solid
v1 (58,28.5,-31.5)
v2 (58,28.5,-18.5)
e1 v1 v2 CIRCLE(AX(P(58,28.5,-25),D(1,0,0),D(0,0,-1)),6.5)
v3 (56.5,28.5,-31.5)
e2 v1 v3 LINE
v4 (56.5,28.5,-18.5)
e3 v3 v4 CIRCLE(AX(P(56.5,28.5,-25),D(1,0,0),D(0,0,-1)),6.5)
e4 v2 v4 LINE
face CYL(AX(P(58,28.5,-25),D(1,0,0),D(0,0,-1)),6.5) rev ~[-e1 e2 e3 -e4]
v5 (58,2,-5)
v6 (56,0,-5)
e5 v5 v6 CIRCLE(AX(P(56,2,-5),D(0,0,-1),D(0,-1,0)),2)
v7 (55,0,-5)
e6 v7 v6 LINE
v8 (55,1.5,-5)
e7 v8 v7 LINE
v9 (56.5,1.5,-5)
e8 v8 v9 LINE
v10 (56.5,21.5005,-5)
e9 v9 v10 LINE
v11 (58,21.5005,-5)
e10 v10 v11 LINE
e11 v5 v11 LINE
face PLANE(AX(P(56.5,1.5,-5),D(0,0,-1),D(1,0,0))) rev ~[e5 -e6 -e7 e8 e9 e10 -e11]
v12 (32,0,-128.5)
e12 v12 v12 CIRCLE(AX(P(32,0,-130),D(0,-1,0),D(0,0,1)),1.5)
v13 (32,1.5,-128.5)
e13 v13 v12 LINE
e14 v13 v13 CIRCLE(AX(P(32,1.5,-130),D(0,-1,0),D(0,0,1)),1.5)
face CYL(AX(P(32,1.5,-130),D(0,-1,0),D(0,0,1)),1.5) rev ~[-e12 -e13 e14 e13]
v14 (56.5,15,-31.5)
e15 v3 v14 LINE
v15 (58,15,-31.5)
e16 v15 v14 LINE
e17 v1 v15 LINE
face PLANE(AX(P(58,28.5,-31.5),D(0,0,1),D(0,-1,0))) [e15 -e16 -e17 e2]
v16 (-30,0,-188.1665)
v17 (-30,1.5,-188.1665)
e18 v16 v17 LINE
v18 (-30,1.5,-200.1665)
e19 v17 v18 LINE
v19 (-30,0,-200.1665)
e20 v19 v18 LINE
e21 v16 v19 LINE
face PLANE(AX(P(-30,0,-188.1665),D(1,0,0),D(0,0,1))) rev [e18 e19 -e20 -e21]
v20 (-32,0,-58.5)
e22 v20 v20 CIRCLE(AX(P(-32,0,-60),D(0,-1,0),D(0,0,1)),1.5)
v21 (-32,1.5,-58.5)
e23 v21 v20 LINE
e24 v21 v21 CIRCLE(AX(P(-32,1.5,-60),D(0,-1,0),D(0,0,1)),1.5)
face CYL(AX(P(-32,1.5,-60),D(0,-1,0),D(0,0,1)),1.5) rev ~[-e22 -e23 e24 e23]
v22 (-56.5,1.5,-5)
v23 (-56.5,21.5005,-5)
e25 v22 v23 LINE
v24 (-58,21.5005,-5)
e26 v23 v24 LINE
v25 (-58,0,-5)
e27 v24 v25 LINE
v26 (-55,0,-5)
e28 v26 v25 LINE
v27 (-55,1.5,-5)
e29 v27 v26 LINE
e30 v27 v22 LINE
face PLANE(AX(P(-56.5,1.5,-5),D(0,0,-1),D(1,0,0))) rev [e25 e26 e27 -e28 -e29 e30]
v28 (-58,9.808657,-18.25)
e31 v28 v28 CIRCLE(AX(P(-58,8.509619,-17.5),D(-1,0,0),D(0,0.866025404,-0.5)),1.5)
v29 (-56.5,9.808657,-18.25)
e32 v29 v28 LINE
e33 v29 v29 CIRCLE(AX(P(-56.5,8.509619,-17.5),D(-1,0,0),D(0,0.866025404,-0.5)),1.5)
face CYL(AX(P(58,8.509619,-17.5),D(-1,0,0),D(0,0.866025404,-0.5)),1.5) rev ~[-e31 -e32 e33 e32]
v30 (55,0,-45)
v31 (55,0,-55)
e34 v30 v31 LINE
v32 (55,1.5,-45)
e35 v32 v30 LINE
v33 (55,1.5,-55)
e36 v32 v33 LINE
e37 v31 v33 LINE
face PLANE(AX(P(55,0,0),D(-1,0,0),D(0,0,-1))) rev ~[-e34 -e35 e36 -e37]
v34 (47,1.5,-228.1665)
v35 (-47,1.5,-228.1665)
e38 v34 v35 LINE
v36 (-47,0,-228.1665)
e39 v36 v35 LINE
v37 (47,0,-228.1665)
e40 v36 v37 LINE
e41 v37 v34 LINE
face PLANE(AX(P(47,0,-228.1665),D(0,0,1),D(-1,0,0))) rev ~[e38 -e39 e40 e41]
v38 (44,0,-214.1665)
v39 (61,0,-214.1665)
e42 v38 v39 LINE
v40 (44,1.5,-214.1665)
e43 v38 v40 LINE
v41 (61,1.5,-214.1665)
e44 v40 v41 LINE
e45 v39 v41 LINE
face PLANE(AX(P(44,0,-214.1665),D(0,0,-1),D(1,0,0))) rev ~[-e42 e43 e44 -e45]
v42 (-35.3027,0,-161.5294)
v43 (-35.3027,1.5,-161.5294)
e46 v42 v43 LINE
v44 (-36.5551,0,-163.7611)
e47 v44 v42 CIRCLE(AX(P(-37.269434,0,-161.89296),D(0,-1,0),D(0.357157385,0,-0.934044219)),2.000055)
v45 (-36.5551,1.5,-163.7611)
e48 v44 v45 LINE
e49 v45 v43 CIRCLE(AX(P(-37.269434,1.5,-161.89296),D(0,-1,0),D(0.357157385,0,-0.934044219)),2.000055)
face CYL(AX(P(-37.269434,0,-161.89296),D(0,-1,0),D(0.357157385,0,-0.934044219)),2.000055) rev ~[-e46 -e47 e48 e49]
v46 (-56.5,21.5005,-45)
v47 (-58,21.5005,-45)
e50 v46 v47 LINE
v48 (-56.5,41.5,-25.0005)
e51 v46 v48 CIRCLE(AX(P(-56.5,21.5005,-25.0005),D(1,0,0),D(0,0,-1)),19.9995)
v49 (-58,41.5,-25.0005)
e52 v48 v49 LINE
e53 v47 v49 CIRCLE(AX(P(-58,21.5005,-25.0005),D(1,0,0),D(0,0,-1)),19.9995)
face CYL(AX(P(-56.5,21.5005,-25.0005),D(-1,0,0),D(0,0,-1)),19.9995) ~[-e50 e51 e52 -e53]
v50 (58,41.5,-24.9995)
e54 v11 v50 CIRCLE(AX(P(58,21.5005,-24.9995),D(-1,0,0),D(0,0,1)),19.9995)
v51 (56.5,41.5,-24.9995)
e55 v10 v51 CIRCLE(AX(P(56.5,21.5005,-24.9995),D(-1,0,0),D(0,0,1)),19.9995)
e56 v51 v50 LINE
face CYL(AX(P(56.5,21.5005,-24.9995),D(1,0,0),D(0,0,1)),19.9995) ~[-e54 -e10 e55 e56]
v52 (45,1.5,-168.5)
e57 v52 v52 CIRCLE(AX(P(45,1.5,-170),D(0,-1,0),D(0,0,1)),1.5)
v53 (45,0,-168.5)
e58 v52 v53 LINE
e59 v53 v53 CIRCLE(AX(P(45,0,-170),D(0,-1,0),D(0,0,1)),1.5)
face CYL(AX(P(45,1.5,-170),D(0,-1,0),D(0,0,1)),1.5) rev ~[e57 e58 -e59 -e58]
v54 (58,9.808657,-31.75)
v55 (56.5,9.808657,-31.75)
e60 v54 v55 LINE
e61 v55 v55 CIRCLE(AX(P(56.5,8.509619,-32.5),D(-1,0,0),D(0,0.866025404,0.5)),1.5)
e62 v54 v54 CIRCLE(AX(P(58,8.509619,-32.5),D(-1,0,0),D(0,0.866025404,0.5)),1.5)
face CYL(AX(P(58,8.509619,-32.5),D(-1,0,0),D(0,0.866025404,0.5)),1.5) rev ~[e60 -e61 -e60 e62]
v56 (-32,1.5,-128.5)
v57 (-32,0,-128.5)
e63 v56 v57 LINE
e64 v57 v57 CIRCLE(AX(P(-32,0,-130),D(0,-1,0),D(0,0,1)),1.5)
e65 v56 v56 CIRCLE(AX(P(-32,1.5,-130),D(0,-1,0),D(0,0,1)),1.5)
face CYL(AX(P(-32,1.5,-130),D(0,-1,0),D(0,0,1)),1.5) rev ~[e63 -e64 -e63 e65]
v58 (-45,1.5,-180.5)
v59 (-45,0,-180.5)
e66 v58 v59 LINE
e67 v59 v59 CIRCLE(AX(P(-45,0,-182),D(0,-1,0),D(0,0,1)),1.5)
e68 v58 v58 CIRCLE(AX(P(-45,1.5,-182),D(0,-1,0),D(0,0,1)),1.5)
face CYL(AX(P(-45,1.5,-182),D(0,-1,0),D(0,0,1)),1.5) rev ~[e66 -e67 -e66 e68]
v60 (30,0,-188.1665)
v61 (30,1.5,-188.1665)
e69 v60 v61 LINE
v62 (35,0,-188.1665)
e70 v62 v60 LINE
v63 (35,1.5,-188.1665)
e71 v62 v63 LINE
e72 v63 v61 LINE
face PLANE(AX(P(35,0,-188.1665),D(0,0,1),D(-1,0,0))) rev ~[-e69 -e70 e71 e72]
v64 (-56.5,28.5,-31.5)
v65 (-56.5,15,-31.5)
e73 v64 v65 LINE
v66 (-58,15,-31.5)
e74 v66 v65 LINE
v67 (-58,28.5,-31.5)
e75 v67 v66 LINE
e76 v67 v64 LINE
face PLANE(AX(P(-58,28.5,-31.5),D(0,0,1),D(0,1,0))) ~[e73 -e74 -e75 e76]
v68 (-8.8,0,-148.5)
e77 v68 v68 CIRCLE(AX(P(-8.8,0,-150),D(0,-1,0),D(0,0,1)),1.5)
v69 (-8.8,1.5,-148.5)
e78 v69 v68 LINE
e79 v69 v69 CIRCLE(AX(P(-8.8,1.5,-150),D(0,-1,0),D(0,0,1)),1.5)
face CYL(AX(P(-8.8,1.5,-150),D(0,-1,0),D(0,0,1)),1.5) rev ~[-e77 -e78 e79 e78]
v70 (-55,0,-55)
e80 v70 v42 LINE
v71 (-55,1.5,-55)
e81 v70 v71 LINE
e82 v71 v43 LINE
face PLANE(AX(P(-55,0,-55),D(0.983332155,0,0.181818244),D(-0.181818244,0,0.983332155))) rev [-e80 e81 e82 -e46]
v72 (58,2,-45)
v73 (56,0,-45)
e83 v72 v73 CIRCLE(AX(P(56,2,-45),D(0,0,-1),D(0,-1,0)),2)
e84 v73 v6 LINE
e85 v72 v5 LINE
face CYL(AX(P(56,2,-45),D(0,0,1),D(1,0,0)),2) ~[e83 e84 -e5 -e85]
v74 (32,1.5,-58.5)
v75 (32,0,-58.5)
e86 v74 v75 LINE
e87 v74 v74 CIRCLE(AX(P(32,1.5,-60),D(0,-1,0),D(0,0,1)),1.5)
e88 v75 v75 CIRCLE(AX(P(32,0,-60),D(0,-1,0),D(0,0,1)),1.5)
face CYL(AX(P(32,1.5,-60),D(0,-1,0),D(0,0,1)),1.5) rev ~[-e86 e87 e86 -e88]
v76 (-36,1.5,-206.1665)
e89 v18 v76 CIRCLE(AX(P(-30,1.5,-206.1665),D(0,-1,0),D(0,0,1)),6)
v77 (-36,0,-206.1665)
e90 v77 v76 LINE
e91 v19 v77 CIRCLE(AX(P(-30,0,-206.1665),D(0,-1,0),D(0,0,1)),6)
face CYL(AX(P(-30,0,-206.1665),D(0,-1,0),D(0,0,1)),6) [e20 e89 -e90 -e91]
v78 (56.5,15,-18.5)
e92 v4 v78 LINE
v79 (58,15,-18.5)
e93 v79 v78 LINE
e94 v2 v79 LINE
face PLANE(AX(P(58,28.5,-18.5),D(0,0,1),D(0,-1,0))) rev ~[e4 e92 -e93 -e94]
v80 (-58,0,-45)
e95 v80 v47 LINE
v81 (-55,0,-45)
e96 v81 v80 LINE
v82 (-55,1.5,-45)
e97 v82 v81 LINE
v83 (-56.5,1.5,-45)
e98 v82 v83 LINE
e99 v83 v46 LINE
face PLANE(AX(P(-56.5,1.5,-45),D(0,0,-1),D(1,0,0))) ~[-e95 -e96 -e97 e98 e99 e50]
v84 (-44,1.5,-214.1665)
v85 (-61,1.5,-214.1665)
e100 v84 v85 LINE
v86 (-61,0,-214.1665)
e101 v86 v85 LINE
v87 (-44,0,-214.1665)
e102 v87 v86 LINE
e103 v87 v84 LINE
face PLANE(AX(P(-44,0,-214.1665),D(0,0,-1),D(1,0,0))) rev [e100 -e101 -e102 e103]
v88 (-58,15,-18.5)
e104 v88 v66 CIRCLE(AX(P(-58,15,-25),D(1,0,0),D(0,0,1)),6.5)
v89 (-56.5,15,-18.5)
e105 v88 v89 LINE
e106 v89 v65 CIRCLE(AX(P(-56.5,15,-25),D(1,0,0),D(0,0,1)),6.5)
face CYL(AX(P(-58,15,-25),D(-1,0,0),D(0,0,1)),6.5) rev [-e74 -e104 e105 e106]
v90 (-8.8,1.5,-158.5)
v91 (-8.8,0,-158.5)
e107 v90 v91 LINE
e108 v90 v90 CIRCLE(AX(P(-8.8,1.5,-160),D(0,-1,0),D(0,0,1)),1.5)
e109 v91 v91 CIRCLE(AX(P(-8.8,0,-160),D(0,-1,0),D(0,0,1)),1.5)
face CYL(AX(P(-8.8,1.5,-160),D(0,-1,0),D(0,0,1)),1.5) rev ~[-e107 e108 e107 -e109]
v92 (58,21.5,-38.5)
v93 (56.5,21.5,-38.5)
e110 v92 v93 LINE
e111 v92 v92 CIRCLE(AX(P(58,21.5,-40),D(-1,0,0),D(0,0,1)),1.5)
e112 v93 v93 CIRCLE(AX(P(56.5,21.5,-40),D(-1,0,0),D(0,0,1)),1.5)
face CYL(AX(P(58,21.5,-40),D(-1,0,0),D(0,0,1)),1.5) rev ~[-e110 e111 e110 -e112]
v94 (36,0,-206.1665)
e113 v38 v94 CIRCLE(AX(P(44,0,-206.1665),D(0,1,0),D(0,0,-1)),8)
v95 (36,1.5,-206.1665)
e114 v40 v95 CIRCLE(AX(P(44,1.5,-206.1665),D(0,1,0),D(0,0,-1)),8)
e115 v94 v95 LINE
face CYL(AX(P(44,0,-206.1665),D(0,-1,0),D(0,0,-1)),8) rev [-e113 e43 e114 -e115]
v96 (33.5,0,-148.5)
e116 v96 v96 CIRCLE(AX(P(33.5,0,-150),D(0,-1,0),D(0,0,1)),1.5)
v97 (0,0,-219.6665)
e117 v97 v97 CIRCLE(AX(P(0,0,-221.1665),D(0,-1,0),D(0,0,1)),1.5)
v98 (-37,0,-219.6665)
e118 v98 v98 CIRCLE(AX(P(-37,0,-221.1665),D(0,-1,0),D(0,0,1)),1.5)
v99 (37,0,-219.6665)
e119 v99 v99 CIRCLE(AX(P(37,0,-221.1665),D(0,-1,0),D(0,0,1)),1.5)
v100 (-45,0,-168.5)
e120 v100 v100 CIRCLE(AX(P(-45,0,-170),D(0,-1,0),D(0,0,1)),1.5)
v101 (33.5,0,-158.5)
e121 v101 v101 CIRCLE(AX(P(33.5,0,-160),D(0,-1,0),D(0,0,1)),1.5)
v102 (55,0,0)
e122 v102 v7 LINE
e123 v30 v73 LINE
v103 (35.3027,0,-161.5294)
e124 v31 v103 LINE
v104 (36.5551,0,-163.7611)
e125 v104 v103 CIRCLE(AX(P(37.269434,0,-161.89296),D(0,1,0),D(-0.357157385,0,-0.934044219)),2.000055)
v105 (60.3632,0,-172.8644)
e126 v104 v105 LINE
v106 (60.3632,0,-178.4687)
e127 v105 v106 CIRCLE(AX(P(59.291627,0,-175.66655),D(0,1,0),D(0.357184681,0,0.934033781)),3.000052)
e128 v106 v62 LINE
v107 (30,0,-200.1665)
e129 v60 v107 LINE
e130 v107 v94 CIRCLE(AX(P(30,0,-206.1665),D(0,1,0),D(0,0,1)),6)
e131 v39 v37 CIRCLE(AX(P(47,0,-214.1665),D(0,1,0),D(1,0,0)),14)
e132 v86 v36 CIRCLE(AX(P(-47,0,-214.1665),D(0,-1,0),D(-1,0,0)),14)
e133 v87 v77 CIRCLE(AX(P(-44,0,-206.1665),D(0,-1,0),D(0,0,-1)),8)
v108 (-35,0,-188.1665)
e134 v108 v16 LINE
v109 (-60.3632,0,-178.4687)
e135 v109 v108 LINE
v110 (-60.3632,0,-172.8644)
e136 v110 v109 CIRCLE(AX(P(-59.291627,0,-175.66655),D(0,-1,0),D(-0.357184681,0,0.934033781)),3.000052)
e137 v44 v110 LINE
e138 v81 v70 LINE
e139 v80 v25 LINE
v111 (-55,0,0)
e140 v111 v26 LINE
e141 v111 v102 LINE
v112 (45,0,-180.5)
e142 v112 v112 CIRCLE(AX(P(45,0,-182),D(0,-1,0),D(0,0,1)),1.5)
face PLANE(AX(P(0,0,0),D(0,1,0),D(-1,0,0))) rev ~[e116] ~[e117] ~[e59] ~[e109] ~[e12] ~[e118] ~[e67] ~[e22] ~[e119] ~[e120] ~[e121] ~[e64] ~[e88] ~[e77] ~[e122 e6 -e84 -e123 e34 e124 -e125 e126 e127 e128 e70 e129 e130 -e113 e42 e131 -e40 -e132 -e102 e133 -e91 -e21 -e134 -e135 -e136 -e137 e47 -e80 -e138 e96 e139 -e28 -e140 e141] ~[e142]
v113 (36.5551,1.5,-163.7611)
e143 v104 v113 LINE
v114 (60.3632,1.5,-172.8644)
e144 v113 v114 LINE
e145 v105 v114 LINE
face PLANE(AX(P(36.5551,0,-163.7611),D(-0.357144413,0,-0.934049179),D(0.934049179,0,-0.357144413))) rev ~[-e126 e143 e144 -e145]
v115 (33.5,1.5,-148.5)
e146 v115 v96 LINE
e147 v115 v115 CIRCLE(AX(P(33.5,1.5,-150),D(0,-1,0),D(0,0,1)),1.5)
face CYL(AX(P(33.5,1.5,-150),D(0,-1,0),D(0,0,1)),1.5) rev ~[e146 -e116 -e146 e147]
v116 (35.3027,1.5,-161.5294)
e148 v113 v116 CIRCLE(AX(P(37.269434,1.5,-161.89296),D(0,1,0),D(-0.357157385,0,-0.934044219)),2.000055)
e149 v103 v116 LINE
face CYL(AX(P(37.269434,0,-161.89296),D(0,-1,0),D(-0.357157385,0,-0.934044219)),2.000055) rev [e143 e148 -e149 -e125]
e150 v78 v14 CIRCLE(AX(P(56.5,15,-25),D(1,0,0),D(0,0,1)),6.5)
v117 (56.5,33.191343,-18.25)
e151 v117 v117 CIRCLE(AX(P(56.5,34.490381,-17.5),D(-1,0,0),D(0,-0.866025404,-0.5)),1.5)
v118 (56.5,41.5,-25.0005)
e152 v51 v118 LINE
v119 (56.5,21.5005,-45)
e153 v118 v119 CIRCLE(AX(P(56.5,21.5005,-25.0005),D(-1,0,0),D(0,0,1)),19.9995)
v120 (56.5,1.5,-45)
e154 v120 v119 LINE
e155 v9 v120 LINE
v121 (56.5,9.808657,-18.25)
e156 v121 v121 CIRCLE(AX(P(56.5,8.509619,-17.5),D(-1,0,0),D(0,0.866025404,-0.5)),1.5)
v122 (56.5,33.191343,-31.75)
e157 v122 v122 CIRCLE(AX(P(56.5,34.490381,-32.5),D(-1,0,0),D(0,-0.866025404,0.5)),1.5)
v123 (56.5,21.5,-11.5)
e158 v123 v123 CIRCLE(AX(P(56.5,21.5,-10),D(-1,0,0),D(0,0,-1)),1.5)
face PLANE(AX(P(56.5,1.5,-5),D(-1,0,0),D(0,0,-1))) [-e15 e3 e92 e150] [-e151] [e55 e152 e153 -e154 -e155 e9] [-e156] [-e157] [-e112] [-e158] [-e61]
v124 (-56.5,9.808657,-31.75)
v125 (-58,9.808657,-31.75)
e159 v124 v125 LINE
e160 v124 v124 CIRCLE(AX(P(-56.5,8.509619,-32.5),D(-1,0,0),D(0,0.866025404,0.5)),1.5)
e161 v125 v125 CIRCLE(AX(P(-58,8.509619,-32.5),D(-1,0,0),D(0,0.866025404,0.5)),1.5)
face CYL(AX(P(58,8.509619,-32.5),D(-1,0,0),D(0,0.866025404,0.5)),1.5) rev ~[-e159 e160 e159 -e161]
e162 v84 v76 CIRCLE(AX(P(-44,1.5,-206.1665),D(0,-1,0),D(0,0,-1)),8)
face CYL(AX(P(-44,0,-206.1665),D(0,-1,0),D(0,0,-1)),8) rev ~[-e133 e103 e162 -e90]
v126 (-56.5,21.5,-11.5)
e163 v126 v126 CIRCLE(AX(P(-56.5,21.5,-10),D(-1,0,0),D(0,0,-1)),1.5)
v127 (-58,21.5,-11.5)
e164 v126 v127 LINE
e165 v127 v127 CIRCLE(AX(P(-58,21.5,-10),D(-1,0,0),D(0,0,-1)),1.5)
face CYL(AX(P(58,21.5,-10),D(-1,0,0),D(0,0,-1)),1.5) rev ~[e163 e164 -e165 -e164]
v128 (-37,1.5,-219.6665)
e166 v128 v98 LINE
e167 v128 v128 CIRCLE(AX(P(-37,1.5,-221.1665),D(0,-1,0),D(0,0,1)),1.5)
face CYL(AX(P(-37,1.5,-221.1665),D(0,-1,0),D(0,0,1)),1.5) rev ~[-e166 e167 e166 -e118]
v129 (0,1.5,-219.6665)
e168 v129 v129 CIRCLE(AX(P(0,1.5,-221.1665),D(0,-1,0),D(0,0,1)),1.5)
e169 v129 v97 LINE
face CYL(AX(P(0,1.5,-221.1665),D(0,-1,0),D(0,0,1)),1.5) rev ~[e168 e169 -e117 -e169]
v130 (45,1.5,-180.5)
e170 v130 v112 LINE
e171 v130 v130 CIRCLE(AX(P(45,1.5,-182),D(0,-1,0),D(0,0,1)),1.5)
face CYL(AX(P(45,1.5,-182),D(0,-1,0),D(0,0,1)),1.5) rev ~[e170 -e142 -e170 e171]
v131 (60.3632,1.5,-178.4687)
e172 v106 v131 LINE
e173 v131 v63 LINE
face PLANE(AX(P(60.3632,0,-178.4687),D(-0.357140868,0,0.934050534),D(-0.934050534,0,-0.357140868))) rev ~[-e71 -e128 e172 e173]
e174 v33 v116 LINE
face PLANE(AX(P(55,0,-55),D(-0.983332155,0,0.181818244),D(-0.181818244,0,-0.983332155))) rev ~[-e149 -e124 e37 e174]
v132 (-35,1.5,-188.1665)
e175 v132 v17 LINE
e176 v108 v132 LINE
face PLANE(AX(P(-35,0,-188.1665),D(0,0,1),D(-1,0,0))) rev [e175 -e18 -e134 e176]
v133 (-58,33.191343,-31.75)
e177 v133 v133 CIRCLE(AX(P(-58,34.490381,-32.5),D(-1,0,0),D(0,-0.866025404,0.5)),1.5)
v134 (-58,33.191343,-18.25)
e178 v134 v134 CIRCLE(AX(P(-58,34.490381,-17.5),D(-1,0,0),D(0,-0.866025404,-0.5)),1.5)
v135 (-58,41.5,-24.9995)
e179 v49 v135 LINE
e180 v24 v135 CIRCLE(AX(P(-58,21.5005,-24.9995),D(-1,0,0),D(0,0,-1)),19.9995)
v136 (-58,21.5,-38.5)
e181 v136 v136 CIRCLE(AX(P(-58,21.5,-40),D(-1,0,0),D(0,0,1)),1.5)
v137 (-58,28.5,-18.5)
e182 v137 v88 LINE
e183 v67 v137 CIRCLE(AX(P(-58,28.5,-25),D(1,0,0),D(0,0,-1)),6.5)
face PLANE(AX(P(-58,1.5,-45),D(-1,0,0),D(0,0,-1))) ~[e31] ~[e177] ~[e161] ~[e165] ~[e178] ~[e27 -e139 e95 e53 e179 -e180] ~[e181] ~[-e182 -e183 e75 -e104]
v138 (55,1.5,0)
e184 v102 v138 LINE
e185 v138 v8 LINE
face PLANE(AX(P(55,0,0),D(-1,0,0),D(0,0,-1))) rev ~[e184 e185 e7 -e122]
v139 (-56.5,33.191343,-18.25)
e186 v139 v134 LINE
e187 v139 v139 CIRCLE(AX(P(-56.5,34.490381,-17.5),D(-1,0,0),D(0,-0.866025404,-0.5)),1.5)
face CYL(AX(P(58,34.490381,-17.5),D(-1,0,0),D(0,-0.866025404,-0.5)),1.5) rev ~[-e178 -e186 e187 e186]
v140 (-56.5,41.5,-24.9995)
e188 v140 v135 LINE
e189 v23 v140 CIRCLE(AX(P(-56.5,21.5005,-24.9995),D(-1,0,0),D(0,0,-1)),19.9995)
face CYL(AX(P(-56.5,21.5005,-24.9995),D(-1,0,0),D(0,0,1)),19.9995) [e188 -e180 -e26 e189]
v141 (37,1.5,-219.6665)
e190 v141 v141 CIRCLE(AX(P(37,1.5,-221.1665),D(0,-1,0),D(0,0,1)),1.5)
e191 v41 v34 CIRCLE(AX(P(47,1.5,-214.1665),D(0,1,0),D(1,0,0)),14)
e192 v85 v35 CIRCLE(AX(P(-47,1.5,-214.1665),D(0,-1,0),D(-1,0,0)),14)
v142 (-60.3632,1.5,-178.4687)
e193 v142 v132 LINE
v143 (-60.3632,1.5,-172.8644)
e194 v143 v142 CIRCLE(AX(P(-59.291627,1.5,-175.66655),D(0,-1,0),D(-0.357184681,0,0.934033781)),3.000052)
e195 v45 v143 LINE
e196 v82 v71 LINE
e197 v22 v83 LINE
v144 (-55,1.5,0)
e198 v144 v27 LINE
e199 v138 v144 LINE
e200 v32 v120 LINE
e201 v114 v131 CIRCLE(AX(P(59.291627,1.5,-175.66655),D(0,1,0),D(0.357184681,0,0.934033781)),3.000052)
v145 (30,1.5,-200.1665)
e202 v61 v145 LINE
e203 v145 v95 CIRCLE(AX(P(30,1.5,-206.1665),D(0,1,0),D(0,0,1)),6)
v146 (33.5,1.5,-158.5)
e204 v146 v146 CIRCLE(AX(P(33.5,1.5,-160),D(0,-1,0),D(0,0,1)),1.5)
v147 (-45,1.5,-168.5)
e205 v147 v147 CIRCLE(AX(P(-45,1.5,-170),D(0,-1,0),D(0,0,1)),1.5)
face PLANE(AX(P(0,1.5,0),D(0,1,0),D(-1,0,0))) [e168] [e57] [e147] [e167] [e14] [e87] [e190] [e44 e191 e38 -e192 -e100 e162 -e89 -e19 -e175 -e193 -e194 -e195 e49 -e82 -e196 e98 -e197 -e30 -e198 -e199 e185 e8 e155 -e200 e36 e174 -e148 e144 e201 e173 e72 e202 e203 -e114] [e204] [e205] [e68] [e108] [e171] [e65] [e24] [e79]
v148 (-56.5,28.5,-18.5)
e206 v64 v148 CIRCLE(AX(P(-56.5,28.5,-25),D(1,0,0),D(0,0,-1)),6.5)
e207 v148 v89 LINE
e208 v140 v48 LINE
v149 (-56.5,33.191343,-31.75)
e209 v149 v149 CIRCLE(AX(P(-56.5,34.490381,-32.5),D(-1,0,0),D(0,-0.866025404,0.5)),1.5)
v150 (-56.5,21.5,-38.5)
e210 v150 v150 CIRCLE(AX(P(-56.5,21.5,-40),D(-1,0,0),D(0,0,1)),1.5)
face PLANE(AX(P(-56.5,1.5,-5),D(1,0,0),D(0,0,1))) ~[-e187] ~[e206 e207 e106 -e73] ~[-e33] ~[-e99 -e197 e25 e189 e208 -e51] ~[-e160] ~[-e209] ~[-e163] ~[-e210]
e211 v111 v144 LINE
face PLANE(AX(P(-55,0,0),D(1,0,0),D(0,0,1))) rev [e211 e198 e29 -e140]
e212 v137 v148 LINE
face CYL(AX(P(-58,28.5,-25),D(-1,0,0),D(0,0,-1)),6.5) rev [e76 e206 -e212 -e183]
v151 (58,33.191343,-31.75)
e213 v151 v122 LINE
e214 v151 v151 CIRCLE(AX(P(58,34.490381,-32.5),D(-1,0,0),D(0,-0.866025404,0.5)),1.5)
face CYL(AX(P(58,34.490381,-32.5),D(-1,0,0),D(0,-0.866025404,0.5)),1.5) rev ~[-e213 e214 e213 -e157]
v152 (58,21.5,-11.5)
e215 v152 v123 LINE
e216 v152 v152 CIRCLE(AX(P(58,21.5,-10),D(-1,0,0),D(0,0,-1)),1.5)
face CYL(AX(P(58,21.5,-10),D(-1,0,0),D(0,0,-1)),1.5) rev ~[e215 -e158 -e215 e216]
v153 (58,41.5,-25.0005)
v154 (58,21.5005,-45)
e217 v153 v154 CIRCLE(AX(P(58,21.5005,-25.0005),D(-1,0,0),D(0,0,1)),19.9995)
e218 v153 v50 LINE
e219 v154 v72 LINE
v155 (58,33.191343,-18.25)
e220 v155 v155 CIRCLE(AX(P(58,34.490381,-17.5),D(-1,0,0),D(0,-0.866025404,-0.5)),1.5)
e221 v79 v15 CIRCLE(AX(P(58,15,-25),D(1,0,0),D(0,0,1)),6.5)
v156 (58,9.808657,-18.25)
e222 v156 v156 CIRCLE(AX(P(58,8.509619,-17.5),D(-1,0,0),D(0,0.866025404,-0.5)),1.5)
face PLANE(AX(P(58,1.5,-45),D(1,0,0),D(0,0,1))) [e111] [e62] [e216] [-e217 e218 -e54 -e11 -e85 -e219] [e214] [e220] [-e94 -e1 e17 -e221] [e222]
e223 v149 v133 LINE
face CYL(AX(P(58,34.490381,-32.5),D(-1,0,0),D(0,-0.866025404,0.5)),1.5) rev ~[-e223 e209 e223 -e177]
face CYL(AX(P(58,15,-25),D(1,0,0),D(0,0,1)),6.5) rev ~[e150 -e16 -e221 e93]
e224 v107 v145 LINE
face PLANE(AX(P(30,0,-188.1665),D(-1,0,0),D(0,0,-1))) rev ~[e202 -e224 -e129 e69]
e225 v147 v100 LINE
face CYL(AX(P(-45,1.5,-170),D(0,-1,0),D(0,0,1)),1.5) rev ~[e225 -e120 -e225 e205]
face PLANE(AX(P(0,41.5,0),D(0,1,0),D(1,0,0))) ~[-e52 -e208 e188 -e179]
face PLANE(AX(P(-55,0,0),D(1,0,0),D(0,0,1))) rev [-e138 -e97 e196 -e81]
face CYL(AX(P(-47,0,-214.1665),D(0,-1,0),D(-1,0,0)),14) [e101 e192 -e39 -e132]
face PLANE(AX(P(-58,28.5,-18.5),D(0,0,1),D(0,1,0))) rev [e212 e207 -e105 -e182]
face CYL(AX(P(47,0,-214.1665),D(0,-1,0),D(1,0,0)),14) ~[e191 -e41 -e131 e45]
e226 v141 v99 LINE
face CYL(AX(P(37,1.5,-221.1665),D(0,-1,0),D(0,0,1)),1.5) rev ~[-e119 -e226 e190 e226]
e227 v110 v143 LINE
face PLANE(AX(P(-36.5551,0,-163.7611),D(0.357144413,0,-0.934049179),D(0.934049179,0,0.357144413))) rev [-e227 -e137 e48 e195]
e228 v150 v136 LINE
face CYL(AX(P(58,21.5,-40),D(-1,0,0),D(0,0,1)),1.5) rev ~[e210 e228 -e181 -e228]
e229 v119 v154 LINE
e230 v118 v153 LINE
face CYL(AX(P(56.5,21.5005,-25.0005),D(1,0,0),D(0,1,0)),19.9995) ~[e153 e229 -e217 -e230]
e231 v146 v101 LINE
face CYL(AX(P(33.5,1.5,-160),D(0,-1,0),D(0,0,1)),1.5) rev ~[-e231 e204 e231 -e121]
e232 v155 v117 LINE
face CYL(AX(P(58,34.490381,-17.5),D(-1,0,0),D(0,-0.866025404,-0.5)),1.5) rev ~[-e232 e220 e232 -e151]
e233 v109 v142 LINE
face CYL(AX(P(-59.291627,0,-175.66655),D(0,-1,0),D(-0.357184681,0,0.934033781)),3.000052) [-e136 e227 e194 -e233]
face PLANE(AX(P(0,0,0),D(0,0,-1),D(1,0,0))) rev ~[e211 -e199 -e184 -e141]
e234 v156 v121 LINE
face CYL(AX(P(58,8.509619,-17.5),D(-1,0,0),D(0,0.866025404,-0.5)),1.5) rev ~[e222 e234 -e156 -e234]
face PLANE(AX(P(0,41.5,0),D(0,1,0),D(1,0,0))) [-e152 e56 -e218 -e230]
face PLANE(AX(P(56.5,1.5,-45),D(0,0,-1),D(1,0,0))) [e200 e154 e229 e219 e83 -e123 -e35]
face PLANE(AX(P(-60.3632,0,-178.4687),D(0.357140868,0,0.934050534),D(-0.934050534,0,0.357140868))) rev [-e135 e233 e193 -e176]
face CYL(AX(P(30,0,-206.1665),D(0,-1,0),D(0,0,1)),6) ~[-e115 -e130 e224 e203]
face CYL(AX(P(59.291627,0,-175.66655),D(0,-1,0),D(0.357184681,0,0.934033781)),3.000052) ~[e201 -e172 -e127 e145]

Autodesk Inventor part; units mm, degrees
sketch "Skizze1" plane through (0, 0, 0) normal (0, 1, 0) x (-1, 0, 0)
  line L0 (-55, 0) -> (-55, -55)
  line L1 (-55, -55) -> (-35.3027, -161.5294)
  line L2 (0, 0) -> (-55, 0)
  line L3 (79.5383, 0) -> (-92.2301, 0) projected
  line L4 (-36.5551, -163.7611) -> (-60.3632, -172.8644)
  line L5 (-60.3632, -178.4687) -> (-35, -188.1665)
  line L6 (-35, -188.1665) -> (-30, -188.1665)
  line L7 (-30, -188.1665) -> (-30, -200.1665)
  line L8 (-30, -200.1665) -> (-30, -200.1665)
  line L9 (-36, -206.1665) -> (-36, -206.1665)
  line L10 (-36, -206.1665) -> (-36, -206.1665)
  line L11 (-44, -214.1665) -> (-44, -214.1665)
  line L12 (-44, -214.1665) -> (-61, -214.1665)
  line L13 (-61, -214.1665) -> (-61, -214.1665)
  line L14 (-47, -228.1665) -> (-47, -228.1665)
  line L15 (-47, -228.1665) -> (0, -228.1665)
  arc A0 (-61, -214.1665) -> (-47, -228.1665) centre (-47, -214.1665) ccw
  arc A1 (-44, -214.1665) -> (-36, -206.1665) centre (-44, -206.1665) ccw
  arc A2 (-30, -200.1665) -> (-36, -206.1665) centre (-30, -206.1665) ccw
  arc A3 (-60.3632, -172.8644) -> (-60.3632, -178.4687) centre (-59.2917, -175.6665) ccw
  arc A4 (-36.5551, -163.7611) -> (-35.3027, -161.5294) centre (-37.2694, -161.893) ccw
  line L16 (0, 0) -> (0, -228.1665)
  point P0 (-35, -163.1665)
  point P1 (-67.6917, -175.6665)
  point P2 (-36, -200.1665)
  point P3 (-36, -214.1665)
  point P4 (-61, -228.1665)
  dimension "d1" = 55
  dimension "d54" = 110
  dimension "d55" = 55
  dimension "d56" = 20
  dimension "d57" = 35
  dimension "d58" = 35
  dimension "d59" = 25
  dimension "d60" = 12.5
  dimension "d61" = 5
  dimension "d62" = 12
  dimension "d63" = 6
  dimension "d64" = 6
  dimension "d65" = 8
  dimension "d66" = 8
  dimension "d67" = 17
  dimension "d68" = 14
  dimension "d69" = 14
  dimension "d70" = 47
  dimension "d71" = 14
  dimension "d72" = 8
  dimension "d73" = 6
  dimension "d74" = 3
  dimension "d75" = 2
extrude "Extrusion1" add sketch "Skizze1" along normal blind 1.5
mirror "Spiegeln1" about plane through (0, 0, 0) normal (1, 0, 0) of "Extrusion1"
sketch "Skizze2" plane through (0, 1.5, 0) normal (0, 1, 0) x (1, 0, 0)
  line L0 (55, 0) -> (-55, 0) projected
  line L1 (-55, 0) -> (-55, 55) projected
  line L2 (55, 0) -> (55, 55) projected
  arc A0 (60.3632, 172.8644) -> (60.3632, 178.4687) centre (59.2917, 175.6665) ccw projected
  line L3 (47, 228.1665) -> (-47, 228.1665) projected
  point P0 (0, 0)
  point P1 (-32, 60)
  point P2 (32, 60)
  point P3 (-32, 130)
  point P4 (32, 130)
  point P5 (33.5, 150)
  point P6 (33.5, 160)
  point P7 (-8.8, 160)
  point P8 (-8.8, 150)
  point P9 (45, 170)
  point P10 (45, 182)
  point P11 (0, 221.1665)
  point P12 (37, 221.1665)
  point P13 (-37, 221.1665)
  point P14 (-45, 182)
  point P15 (-45, 170)
  dimension "d78" = 60
  dimension "d79" = 23
  dimension "d80" = 60
  dimension "d81" = 23
  dimension "d82" = 70
  dimension "d83" = 70
  dimension "d84" = 23
  dimension "d85" = 23
  dimension "d86" = 20
  dimension "d87" = 1.5
  dimension "d88" = 10
  dimension "d89" = 1.5
  dimension "d91" = 20
  dimension "d92" = 10
  dimension "d93" = 42.3
  dimension "d94" = 42.3
  dimension "d95" = 13
  dimension "d97" = 10
  dimension "d98" = 13
  dimension "d99" = 12
  dimension "d100" = 7
  dimension "d101" = 7
  dimension "d102" = 7
  dimension "d103" = 10
  dimension "d104" = 37
  dimension "d105" = 37
  dimension "d106" = 10
  dimension "d107" = 12
  dimension "d108" = 40
  dimension "d109" = 13
  dimension "d110" = 13
hole "Bohrung1" at (-32, 1.5, -60) at (32, 1.5, -60) at (-32, 1.5, -130) at (32, 1.5, -130) at (33.5, 1.5, -150) at (33.5, 1.5, -160) at (-8.8, 1.5, -160) at (-8.8, 1.5, -150) at (45, 1.5, -170) at (45, 1.5, -182) at (0, 1.5, -221.1665) at (37, 1.5, -221.1665) at (-37, 1.5, -221.1665) at (-45, 1.5, -182) at (-45, 1.5, -170) direction (0, -1, 0) diameter 3 end through all
sketch "Skizze4" plane through (55, 0, 0) normal (1, 0, 0) x (0, 0, -1)
  line L0 (0, 1.5) -> (55, 1.5) projected
  line L1 (5, 1.5) -> (45, 1.5)
  line L2 (45, 1.5) -> (45, 0)
  line L3 (45, 0) -> (5, 0)
  line L4 (0, 0) -> (55, 0) projected
  line L5 (5, 1.5) -> (5, 0)
  line L6 (0, 0) -> (0, 1.5) projected
  dimension "d121" = 40
  dimension "d122" = 5
  dimension "d123" = 40
extrude "Extrusion2" add sketch "Skizze4" along normal blind 3 contours L0 L2 L3 L5
sketch "Skizze5" plane through (0, 1.5, 0) normal (0, 1, 0) x (1, 0, 0)
  line L0 (55, 5) -> (58, 5) projected
  line L1 (56.5, 5) -> (56.5, 45)
  line L2 (55, 45) -> (58, 45) projected
  line L3 (58, 45) -> (58, 5)
  line L4 (58, 5) -> (56.5, 5)
  line L5 (56.5, 45) -> (58, 45)
  point P0 (0, 0)
  dimension "d126" = 1.5
extrude "Extrusion3" add sketch "Skizze5" along normal blind 40
fillet "Rundung1" radius 2 1 edges at (58, 0, -25)
fillet "Rundung2" radius 20 2 edges at (57.25, 41.5, -5) (57.25, 41.5, -45)
mirror "Spiegeln2" about plane through (0, 0, 0) normal (1, 0, 0) of "Extrusion2", "Extrusion3"
mirror "Spiegeln3" about plane through (0, 0, 0) normal (1, 0, 0) of "Rundung2"
sketch "Skizze6" plane through (58, 0, 0) normal (1, 0, 0) x (0, 0, -1)
  arc A0 (18.5, 15) -> (31.5, 15) centre (25, 15) ccw
  arc A1 (31.5, 28.5) -> (18.5, 28.5) centre (25, 28.5) ccw
  line L0 (5, 2) -> (5, 21.5) projected
  line L1 (45, 2) -> (5, 2) projected
  line L2 (18.5, 28.5) -> (18.5, 15)
  line L3 (31.5, 28.5) -> (31.5, 15)
  line L4 (45, 1.5) -> (55, 1.5) projected
  point P0 (0, 0)
  dimension "d131" = 13
  dimension "d132" = 13
  dimension "d133" = 20
  dimension "d135" = 20
  dimension "d136" = 13.5
  dimension "d143" = 13.5
extrude "Extrusion4" cut sketch "Skizze6" against normal blind 1.5
sketch "Skizze7" plane through (58, 0, 0) normal (1, 0, 0) x (0, 0, -1)
  line L0 (0, 1.5) -> (5, 1.5) projected
  line L1 (45, 1.5) -> (55, 1.5) projected
  line L2 (5, 2) -> (5, 21.5) projected
  line L3 (45, 2) -> (45, 21.5) projected
  line L4 (45, 2) -> (5, 2) projected
  line L5 (18.5, 15) -> (18.5, 28.5) projected
  arc A0 (18.5, 15) -> (31.5, 15) centre (25, 15) ccw projected
  point P0 (0, 0)
  point P1 (10, 21.5)
  dimension "d146" = 20
  dimension "d147" = 5
sketch "Skizze8" plane through (58, 0, 0) normal (1, 0, 0) x (0, 0, -1)
  line L0 (18.5, 15) -> (18.5, 28.5) projected
  arc A0 (18.5, 15) -> (31.5, 15) centre (25, 15) ccw projected
  point P0 (0, 0)
  point P1 (25, 21.5)
  dimension "d150" = 6.5
  dimension "d151" = 6.5
hole "Bohrung2" at (58, 21.5, -10) direction (-1, 0, 0) diameter 3 end through all
pattern_circular "Runde Anordnung1" count 6 over 360 about axis through (58, 21.5, -25) along (1, 0, 0) of "Bohrung2"
mirror "Spiegeln4" about plane through (0, 0, 0) normal (1, 0, 0) of "Extrusion4"
ref_plane "Arbeitsebene1" through (0, 0, 0) normal (1, 0, 0) x (0, 1, 0)
properties part number "grundplatte"
